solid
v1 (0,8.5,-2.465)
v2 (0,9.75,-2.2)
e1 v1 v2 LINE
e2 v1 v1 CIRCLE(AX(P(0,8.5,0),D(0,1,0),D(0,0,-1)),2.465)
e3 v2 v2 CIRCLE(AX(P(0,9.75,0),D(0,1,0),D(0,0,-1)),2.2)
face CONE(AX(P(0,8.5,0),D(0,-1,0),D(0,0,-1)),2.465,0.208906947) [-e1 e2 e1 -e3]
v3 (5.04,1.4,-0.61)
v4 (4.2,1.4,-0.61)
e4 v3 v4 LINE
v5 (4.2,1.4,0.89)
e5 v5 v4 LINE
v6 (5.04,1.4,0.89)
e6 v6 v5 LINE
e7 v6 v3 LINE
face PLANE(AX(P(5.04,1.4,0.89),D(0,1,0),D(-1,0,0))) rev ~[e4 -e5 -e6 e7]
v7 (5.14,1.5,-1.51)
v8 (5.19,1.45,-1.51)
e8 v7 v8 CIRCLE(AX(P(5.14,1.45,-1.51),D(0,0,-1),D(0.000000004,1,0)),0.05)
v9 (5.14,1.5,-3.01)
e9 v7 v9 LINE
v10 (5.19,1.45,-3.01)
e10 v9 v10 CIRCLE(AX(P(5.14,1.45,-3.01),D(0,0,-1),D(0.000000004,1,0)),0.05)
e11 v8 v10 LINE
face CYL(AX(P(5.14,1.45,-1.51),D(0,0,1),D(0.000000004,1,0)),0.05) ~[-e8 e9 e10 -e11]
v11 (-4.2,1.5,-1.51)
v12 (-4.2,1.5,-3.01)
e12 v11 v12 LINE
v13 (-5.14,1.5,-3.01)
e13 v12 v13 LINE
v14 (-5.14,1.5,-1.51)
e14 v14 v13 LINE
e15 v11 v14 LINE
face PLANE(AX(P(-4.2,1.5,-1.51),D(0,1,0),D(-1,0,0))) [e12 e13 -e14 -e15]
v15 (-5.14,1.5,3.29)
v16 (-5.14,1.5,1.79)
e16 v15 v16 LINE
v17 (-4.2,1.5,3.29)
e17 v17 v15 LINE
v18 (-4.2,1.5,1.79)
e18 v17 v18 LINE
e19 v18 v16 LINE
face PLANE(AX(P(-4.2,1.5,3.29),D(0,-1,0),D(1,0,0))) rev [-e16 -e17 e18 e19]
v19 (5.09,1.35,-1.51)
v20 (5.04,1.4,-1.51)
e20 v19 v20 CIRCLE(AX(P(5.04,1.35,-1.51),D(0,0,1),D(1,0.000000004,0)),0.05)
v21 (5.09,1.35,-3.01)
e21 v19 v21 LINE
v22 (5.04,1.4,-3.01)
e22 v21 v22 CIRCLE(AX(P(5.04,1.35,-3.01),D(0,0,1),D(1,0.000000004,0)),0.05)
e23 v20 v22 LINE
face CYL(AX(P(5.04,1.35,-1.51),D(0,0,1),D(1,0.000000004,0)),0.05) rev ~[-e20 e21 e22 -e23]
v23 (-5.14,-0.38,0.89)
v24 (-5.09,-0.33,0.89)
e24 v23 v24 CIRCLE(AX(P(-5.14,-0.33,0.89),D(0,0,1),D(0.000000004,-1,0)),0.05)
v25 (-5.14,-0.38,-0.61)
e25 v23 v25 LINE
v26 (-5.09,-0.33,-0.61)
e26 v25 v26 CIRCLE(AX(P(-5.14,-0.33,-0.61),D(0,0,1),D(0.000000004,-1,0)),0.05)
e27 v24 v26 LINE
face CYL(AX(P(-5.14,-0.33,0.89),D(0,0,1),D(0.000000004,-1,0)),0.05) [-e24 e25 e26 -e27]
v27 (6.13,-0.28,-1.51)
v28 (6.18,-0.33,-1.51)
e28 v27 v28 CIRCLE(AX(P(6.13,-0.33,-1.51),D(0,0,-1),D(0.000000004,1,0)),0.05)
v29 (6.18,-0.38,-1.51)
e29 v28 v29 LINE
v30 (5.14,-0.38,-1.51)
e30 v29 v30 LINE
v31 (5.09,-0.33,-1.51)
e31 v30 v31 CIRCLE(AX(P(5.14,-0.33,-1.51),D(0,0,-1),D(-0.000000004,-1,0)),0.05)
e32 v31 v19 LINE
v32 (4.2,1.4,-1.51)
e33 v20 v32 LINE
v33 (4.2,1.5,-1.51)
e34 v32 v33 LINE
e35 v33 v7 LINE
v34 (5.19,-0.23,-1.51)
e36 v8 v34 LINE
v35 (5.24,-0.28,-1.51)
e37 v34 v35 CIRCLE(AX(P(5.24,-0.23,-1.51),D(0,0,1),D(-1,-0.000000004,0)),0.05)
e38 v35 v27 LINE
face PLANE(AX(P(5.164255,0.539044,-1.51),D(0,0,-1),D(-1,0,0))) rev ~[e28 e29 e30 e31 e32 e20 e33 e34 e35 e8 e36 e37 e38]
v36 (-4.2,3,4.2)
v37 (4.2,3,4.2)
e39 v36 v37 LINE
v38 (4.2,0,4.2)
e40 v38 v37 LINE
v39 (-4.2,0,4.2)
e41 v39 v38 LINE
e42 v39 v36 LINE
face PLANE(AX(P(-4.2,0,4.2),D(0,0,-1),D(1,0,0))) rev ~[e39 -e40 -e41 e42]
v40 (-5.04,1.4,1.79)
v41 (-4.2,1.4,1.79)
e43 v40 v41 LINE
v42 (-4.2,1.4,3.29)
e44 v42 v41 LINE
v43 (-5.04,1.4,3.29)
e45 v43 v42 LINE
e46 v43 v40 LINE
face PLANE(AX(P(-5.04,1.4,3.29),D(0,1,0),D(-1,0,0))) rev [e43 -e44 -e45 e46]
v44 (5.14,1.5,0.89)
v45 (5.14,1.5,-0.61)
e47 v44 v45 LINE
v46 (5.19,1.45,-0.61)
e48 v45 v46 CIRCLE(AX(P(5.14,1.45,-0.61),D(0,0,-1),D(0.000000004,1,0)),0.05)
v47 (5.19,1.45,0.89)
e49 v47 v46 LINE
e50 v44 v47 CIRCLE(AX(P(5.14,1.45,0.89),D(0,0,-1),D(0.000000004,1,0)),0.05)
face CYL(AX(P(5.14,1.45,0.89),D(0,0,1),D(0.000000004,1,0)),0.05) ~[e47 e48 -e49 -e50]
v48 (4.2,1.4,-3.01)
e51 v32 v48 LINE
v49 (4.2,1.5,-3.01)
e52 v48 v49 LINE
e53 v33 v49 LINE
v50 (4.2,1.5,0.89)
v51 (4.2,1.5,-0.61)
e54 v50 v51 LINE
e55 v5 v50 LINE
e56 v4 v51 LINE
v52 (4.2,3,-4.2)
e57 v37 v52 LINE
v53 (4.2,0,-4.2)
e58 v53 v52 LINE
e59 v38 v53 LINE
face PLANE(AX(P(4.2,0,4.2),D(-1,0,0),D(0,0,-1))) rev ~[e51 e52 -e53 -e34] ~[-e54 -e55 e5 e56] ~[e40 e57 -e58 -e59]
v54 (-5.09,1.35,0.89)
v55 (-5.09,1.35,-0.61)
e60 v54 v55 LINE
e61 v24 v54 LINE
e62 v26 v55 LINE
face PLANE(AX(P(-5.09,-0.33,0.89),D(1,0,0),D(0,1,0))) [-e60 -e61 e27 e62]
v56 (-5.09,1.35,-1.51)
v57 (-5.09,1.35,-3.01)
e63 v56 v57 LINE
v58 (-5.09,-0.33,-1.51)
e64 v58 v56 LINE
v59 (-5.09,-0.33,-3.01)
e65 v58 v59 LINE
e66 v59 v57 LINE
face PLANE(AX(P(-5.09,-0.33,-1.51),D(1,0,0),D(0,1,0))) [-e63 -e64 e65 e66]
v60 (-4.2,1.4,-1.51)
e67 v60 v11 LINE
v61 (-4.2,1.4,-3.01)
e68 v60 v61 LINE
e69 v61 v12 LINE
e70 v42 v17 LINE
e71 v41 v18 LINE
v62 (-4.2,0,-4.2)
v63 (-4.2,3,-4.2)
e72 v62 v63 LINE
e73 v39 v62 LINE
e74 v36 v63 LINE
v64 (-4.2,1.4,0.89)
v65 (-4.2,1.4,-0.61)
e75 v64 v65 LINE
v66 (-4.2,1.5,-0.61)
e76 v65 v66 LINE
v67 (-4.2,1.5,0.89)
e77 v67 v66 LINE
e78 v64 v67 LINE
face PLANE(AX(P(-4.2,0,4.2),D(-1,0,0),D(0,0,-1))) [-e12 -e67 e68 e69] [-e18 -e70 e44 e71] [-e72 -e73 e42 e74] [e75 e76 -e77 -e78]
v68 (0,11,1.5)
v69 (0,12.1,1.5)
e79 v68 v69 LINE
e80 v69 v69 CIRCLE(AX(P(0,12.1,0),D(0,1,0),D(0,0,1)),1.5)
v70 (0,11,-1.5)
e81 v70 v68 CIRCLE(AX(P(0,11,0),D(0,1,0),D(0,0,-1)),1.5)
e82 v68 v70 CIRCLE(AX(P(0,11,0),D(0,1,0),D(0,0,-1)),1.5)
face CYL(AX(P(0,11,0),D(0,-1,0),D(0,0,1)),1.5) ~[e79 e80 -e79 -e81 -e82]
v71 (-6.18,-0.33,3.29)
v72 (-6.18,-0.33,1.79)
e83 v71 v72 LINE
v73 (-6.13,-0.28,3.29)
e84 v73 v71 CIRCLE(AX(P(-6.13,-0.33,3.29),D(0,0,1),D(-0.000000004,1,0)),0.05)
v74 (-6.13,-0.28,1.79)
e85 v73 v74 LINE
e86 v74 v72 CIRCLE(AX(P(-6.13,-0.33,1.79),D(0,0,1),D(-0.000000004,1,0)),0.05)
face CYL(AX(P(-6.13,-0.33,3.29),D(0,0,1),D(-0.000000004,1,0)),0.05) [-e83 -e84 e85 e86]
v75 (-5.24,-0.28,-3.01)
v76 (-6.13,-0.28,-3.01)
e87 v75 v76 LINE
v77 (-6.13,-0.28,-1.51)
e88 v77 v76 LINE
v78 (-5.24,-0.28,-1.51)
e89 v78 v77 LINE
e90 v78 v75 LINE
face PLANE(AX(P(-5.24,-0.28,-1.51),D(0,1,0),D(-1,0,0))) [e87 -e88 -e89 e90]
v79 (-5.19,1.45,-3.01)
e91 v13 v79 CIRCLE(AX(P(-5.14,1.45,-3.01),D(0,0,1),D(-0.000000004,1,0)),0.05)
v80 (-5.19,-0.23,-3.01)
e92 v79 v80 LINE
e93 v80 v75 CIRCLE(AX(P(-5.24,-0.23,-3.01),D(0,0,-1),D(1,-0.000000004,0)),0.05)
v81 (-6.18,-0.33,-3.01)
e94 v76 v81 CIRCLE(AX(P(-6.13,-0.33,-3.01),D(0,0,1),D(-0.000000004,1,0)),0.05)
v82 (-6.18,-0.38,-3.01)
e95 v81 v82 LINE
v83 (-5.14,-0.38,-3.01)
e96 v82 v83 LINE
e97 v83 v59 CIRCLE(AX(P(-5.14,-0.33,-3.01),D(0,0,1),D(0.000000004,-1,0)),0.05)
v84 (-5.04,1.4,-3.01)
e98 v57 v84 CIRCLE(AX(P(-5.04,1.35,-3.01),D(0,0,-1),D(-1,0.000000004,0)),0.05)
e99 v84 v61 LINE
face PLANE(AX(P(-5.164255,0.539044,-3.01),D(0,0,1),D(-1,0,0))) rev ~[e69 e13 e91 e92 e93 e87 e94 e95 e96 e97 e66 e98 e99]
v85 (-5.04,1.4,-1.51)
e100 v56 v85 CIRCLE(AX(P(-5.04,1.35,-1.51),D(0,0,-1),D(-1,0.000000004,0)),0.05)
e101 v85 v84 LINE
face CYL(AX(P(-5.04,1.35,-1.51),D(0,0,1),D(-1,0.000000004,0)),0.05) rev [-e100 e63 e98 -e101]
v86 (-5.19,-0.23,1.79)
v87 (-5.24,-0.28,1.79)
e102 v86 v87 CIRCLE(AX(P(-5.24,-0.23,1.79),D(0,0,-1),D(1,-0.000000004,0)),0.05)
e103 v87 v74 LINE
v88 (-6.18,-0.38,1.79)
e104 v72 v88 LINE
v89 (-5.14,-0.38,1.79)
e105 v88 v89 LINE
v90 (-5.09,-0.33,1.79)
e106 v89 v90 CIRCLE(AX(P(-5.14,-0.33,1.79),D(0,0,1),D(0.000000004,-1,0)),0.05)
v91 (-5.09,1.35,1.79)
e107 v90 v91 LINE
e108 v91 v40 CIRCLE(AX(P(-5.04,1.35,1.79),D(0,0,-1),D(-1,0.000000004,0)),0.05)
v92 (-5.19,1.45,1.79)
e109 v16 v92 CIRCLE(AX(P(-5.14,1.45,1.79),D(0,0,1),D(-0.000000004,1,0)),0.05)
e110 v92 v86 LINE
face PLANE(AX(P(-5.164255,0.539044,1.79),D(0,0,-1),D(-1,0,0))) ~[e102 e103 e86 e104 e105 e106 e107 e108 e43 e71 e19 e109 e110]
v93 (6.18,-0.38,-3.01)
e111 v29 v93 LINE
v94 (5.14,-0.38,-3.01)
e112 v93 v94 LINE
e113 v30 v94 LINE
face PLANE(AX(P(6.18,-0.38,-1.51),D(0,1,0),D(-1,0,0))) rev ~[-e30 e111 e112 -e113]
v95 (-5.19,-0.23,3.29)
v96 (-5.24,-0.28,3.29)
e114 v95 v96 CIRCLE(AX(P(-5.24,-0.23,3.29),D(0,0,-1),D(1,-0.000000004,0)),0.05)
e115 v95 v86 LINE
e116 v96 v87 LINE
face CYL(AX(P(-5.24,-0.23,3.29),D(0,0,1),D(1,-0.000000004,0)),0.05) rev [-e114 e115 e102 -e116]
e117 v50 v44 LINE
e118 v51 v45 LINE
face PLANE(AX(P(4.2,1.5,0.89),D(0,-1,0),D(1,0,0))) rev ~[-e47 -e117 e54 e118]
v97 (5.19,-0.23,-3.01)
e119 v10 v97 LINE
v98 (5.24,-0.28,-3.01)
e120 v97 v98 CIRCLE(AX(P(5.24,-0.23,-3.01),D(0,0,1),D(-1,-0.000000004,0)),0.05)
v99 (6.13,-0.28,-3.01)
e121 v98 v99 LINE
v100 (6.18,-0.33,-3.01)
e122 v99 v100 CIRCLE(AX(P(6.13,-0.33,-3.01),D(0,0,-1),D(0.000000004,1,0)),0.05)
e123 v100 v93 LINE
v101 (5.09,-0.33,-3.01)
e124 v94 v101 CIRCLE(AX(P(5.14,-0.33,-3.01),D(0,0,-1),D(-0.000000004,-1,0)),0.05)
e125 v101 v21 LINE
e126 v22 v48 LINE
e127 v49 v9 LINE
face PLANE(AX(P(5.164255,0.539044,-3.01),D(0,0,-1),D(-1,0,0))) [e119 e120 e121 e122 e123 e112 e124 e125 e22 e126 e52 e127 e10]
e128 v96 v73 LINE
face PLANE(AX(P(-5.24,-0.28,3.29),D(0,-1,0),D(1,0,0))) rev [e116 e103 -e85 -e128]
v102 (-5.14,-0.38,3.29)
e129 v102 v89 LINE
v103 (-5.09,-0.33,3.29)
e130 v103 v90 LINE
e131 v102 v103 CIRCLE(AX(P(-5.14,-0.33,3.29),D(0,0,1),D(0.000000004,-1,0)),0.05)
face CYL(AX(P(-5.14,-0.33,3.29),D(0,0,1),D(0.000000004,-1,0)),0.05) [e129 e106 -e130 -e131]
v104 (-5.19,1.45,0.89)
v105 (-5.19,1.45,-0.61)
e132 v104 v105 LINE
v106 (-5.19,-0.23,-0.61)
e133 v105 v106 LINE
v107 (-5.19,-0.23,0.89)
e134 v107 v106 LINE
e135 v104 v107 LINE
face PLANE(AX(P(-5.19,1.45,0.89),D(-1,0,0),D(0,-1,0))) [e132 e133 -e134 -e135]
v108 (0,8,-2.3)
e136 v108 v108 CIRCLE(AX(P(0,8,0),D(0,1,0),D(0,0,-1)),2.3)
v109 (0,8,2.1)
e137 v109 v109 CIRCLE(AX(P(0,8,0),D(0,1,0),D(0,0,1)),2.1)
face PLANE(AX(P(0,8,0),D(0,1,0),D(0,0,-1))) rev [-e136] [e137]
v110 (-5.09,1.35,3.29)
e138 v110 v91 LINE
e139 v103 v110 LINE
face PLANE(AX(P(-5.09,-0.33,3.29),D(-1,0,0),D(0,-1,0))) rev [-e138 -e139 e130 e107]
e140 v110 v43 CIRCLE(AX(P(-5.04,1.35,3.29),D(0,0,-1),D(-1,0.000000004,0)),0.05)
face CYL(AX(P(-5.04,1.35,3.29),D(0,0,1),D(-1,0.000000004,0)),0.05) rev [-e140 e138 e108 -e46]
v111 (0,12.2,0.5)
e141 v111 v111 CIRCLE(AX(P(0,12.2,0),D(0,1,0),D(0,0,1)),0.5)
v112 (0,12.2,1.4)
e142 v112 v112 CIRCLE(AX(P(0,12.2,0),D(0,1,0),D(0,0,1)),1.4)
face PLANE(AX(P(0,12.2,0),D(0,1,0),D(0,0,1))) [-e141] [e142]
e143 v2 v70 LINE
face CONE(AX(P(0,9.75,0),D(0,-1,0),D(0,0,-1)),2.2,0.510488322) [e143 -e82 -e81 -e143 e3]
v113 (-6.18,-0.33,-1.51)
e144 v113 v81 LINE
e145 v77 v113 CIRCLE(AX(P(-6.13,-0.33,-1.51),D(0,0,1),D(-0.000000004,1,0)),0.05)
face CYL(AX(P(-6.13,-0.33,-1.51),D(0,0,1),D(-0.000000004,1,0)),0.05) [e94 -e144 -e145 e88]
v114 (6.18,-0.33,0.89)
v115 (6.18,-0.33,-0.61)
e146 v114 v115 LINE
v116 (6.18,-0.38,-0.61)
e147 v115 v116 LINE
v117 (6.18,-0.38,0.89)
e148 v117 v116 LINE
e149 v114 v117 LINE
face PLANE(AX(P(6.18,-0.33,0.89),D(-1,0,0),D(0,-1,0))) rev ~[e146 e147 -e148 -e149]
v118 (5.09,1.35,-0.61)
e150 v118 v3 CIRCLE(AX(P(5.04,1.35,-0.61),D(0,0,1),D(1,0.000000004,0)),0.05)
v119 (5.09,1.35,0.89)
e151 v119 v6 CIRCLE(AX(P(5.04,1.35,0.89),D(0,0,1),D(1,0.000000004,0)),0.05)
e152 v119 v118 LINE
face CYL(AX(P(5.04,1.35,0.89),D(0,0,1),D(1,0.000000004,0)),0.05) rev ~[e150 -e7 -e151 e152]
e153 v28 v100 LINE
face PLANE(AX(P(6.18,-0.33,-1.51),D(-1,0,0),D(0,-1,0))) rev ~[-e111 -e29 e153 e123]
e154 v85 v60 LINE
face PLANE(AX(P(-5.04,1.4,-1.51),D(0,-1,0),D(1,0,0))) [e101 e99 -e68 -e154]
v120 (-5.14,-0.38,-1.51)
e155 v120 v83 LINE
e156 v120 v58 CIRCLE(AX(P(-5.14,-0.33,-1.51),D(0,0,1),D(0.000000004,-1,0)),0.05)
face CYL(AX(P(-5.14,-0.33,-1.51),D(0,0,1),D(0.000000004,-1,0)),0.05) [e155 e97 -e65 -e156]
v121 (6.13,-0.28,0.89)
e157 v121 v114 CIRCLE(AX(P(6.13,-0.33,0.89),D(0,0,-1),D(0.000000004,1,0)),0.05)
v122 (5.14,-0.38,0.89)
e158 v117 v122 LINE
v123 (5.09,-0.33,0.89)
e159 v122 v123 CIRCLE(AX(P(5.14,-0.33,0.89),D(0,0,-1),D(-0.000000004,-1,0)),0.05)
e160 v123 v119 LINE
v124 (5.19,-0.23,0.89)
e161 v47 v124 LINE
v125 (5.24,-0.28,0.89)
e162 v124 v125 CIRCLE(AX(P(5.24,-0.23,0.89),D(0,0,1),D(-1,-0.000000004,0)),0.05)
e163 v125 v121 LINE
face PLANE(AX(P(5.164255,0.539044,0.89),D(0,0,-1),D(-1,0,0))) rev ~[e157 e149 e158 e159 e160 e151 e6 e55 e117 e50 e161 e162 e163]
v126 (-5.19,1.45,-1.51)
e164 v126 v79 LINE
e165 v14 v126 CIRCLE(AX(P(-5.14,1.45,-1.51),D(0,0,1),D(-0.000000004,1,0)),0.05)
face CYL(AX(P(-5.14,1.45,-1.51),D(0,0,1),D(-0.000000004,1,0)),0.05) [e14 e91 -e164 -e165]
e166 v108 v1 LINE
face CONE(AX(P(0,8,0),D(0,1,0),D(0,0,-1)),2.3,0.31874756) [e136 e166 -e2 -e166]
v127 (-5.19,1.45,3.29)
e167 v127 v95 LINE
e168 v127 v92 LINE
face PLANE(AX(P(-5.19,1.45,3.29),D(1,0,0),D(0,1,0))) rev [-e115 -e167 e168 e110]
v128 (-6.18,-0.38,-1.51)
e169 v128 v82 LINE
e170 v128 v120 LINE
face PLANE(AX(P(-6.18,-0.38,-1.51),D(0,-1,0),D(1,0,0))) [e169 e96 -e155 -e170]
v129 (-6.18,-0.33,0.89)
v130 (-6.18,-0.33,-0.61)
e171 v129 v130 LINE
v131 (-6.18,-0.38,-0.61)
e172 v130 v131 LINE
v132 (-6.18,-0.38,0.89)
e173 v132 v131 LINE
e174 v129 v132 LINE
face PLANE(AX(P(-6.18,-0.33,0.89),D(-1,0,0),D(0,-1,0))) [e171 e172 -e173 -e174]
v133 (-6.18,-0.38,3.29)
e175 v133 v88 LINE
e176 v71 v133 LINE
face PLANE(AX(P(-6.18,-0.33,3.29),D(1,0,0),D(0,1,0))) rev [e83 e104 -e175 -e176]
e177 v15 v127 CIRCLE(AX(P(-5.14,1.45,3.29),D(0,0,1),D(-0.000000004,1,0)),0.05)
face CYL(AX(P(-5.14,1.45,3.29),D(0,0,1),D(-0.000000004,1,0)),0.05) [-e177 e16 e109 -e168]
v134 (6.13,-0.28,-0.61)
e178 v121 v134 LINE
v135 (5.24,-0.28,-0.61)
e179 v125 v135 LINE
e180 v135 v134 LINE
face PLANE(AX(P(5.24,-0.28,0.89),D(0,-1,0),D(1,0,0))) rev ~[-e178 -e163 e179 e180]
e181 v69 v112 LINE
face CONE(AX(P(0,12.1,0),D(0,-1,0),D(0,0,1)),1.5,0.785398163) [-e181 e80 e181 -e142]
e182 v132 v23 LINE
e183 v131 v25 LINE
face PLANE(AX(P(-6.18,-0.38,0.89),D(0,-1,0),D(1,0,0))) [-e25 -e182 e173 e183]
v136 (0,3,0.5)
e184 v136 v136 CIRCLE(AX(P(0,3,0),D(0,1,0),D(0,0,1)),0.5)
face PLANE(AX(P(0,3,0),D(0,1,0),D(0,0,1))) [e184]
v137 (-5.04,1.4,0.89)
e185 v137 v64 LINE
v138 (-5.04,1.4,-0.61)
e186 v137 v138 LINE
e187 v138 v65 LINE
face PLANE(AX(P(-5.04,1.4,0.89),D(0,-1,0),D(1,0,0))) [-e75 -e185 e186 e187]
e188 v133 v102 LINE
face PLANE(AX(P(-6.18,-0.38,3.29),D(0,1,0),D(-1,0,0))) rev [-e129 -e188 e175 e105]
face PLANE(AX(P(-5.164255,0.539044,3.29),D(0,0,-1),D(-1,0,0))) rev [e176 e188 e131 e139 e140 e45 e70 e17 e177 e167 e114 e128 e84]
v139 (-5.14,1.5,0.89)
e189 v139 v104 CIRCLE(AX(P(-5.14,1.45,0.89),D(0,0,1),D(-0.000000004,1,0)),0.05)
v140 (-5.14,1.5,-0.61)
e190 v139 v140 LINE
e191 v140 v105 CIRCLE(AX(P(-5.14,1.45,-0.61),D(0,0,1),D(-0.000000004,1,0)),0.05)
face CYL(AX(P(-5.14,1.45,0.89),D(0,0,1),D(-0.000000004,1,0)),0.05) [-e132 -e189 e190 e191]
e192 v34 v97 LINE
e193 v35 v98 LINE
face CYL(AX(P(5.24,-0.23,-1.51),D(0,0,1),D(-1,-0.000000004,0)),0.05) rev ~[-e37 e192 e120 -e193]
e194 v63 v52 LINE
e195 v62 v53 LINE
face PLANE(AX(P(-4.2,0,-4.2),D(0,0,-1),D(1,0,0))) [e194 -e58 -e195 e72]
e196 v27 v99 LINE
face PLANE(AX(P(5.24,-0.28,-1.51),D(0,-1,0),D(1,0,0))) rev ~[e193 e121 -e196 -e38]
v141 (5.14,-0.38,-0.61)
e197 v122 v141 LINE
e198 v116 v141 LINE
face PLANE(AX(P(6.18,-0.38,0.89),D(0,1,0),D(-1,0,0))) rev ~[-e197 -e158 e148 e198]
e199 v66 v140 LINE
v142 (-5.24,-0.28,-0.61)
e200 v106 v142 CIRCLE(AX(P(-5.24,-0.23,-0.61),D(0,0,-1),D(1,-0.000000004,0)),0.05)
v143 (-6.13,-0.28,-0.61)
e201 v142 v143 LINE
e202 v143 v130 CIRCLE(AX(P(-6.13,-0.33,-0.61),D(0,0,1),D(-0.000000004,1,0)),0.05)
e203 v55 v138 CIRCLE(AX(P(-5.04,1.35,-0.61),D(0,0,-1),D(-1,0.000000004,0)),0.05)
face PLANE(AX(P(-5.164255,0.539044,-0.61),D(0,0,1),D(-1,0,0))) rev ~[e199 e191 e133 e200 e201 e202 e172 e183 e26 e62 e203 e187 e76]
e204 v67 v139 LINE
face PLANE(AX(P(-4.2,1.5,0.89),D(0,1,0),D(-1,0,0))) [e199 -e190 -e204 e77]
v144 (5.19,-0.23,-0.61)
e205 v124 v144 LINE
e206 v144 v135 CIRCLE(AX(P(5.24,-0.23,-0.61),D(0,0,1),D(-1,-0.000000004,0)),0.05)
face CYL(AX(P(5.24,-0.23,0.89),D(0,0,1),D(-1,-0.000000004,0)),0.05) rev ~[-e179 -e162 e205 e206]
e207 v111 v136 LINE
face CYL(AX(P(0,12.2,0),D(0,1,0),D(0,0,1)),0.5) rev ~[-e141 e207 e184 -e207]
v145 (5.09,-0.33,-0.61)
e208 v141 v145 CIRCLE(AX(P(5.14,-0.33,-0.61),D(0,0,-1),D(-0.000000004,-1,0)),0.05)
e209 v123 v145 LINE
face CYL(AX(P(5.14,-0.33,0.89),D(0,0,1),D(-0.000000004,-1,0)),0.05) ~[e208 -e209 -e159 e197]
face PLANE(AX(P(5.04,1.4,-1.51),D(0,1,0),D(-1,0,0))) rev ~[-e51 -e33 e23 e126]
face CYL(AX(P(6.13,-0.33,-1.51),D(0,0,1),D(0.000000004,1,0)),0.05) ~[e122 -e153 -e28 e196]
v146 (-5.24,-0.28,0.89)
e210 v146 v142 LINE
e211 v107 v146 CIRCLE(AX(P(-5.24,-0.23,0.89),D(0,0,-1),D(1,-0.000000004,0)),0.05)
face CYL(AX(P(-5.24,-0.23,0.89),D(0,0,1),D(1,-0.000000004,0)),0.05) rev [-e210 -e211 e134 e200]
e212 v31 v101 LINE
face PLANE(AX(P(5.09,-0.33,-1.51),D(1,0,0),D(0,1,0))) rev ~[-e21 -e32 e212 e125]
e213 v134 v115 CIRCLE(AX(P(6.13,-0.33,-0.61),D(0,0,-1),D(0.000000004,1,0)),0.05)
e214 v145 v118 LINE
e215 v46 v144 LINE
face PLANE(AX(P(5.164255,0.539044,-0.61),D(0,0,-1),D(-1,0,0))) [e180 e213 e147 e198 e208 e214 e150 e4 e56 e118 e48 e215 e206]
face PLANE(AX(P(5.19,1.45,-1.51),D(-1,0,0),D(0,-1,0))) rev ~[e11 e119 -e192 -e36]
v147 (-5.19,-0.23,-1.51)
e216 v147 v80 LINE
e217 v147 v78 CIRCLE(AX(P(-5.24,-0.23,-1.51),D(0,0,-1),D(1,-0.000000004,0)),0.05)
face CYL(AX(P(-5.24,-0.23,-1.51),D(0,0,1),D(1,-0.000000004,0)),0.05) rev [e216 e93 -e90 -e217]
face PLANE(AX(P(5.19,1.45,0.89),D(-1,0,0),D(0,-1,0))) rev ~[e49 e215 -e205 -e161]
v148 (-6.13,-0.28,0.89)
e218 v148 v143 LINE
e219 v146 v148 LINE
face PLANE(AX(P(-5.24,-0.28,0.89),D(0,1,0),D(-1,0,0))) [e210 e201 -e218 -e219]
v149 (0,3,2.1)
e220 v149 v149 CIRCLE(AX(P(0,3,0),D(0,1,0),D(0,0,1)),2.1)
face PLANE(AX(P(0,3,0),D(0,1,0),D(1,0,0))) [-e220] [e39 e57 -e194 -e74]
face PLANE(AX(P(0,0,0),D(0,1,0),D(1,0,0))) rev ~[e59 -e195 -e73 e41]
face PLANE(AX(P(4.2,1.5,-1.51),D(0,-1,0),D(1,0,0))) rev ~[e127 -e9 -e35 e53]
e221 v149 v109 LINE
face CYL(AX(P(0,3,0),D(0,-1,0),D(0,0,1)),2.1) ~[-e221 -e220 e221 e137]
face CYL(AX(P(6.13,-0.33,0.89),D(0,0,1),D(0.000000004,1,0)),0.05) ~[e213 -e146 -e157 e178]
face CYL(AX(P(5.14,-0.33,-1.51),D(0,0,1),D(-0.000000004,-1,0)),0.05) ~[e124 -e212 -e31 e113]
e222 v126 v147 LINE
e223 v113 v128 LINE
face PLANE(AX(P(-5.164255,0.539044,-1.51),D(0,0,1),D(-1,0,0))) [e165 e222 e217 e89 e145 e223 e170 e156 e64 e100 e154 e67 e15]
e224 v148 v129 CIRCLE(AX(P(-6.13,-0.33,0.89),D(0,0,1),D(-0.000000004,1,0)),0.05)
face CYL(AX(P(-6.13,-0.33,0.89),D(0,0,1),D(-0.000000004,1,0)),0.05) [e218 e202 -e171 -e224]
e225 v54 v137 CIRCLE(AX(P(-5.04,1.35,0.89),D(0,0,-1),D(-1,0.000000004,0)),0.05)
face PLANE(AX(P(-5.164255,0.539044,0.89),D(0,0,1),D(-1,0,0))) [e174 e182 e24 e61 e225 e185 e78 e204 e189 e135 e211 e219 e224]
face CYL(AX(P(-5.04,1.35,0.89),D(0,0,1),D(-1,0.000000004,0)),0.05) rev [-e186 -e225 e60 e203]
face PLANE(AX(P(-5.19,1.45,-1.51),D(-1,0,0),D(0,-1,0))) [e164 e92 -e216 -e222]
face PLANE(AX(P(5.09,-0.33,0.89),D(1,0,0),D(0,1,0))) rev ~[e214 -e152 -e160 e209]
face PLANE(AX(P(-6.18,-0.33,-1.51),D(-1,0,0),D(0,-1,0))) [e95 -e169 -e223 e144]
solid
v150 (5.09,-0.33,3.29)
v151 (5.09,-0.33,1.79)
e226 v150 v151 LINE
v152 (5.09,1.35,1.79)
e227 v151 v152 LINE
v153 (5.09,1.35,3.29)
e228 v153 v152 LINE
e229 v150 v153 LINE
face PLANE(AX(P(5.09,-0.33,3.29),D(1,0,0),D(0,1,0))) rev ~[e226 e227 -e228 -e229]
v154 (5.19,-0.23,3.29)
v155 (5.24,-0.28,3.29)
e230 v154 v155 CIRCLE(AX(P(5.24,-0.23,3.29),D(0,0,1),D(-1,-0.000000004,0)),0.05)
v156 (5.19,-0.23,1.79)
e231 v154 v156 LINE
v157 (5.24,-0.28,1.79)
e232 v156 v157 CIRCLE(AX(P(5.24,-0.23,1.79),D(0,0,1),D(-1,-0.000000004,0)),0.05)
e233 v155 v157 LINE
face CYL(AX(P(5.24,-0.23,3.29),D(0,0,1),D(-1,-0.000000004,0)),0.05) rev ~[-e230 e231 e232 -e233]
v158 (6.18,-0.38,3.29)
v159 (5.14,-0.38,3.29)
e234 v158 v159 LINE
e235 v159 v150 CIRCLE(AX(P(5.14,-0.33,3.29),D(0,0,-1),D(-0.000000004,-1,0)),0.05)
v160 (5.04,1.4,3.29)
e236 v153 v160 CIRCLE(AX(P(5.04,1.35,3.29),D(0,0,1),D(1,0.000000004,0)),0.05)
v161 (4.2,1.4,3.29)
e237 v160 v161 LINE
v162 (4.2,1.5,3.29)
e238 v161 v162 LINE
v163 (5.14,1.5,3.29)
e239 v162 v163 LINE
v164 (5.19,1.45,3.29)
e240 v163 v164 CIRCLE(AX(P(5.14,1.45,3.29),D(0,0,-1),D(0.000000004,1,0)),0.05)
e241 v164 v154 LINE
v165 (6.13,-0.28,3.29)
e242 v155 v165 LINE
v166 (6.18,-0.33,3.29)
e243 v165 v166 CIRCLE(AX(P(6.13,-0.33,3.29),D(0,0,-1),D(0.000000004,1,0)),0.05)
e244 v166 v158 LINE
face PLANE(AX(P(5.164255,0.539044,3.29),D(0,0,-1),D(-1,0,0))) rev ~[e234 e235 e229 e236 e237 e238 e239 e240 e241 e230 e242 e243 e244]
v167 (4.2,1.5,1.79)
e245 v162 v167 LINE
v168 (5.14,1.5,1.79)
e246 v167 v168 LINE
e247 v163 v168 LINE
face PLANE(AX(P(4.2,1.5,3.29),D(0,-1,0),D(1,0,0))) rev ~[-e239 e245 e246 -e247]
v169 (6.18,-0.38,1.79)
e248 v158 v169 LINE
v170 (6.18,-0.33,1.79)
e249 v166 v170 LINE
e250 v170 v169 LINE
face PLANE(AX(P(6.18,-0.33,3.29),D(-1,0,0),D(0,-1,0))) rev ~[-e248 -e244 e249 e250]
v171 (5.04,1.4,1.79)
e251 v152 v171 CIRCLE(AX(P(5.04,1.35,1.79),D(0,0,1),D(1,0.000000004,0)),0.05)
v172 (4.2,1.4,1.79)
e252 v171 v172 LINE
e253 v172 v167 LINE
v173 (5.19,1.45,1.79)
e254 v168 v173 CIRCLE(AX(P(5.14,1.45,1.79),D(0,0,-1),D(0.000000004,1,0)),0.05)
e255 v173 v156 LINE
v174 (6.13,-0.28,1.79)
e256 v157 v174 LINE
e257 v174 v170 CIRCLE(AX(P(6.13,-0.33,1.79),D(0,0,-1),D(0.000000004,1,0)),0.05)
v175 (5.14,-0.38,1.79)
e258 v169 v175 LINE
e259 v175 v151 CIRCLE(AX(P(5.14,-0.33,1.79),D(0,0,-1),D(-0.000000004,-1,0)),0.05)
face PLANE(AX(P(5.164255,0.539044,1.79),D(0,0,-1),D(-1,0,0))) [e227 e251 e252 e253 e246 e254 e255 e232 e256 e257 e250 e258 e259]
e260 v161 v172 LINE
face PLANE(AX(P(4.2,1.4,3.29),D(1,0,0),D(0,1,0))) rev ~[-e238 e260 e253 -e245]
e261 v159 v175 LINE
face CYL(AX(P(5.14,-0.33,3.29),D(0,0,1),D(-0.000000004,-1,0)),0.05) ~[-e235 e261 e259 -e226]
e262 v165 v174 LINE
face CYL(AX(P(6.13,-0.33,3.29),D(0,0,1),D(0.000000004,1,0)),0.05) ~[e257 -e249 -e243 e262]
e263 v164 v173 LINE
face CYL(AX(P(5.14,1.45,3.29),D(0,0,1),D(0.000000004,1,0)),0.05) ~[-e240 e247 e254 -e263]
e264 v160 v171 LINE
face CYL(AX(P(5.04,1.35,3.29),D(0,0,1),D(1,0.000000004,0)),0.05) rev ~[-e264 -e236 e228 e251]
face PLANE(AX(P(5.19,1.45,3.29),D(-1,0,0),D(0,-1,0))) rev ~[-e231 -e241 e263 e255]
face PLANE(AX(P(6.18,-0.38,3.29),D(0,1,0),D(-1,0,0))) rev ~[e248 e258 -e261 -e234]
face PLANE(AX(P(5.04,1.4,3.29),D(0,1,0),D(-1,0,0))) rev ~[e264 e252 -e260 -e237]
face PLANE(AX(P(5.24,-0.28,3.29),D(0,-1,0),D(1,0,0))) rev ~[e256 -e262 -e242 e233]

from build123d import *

# Parameters (mm, degrees)
SKETCH1_W            = 8.4
SKETCH1_H            = 8.4
BOSS_EXTRUDE1_DEPTH  = 3
BOSS_EXTRUDE2_DEPTH  = 1.5
LPATTERN1_COUNT      = 3
LPATTERN1_PITCH      = 2.4
MIRROR1_COPY_1_DEPTH = 1.5
MIRROR1_COPY_2_DEPTH = 1.5
SKETCH3_R            = 2.1
BOSS_EXTRUDE3_DEPTH  = 5
SKETCH5_R            = 1.5
BOSS_EXTRUDE4_DEPTH  = 1.2
CHAMFER1_SIZE        = 0.1
SKETCH7_R            = 0.5
CUT_EXTRUDE1_DEPTH   = 9.2


with BuildPart() as part:
    # Sketch1 → Boss-Extrude1 (new body)
    with BuildSketch(Plane(origin=(0, 0, 0), x_dir=(1, 0, 0), z_dir=(0, 1, 0))):
        Rectangle(SKETCH1_W, SKETCH1_H)
    extrude(amount=BOSS_EXTRUDE1_DEPTH)


with BuildPart() as body_2:
    # Sketch2 → Boss-Extrude2 (new body)
    with BuildSketch(Plane.XY.offset(3.29)):
        with BuildLine():
            Line((4.2, 1.5), (5.14, 1.5))
            ThreePointArc((5.14, 1.5), (5.175355339, 1.485355339), (5.19, 1.45))
            Line((5.19, 1.45), (5.19, -0.23))
            ThreePointArc((5.19, -0.23), (5.204644661, -0.265355339), (5.24, -0.28))
            Line((5.24, -0.28), (6.13, -0.28))
            ThreePointArc((6.13, -0.28), (6.165355339, -0.294644661), (6.18, -0.33))
            Line((6.18, -0.33), (6.18, -0.38))
            Line((6.18, -0.38), (5.14, -0.38))
            ThreePointArc((5.14, -0.38), (5.104644661, -0.365355339), (5.09, -0.33))
            Line((5.09, -0.33), (5.09, 1.35))
            ThreePointArc((5.09, 1.35), (5.075355339, 1.385355339), (5.04, 1.4))
            Line((5.04, 1.4), (4.2, 1.4))
            Line((4.2, 1.4), (4.2, 1.5))
        make_face()
    boss_extrude2 = extrude(amount=-BOSS_EXTRUDE2_DEPTH)


with BuildPart() as part_1:
    add(part.part)

    # LPattern1: Boss-Extrude2 ×3
    with Locations(*[(0, 0, -i * LPATTERN1_PITCH) for i in range(1, LPATTERN1_COUNT)]):
        add(boss_extrude2)

    # Mirror1: Boss-Extrude2 across plane
    add(boss_extrude2.mirror(Plane(origin=(0, 0, 0), x_dir=(0, 0, 1), z_dir=(1, 0, 0))))

    # Mirror1 copy 1 sketch → Mirror1 copy 1 (add)
    with BuildSketch(Plane(origin=(0, 0, 0.89), x_dir=(-1, 0, 0), z_dir=(0, 0, 1))):
        with BuildLine():
            Line((4.2, -1.5), (5.14, -1.5))
            ThreePointArc((5.14, -1.5), (5.175355339, -1.485355339), (5.19, -1.45))
            Line((5.19, -1.45), (5.19, 0.23))
            ThreePointArc((5.19, 0.23), (5.204644661, 0.265355339), (5.24, 0.28))
            Line((5.24, 0.28), (6.13, 0.28))
            ThreePointArc((6.13, 0.28), (6.165355339, 0.294644661), (6.18, 0.33))
            Line((6.18, 0.33), (6.18, 0.38))
            Line((6.18, 0.38), (5.14, 0.38))
            ThreePointArc((5.14, 0.38), (5.104644661, 0.365355339), (5.09, 0.33))
            Line((5.09, 0.33), (5.09, -1.35))
            ThreePointArc((5.09, -1.35), (5.075355339, -1.385355339), (5.04, -1.4))
            Line((5.04, -1.4), (4.2, -1.4))
            Line((4.2, -1.4), (4.2, -1.5))
        make_face()
    extrude(amount=-MIRROR1_COPY_1_DEPTH)

    # Mirror1 copy 2 sketch → Mirror1 copy 2 (add)
    with BuildSketch(Plane(origin=(0, 0, -1.51), x_dir=(-1, 0, 0), z_dir=(0, 0, 1))):
        with BuildLine():
            Line((4.2, -1.5), (5.14, -1.5))
            ThreePointArc((5.14, -1.5), (5.175355339, -1.485355339), (5.19, -1.45))
            Line((5.19, -1.45), (5.19, 0.23))
            ThreePointArc((5.19, 0.23), (5.204644661, 0.265355339), (5.24, 0.28))
            Line((5.24, 0.28), (6.13, 0.28))
            ThreePointArc((6.13, 0.28), (6.165355339, 0.294644661), (6.18, 0.33))
            Line((6.18, 0.33), (6.18, 0.38))
            Line((6.18, 0.38), (5.14, 0.38))
            ThreePointArc((5.14, 0.38), (5.104644661, 0.365355339), (5.09, 0.33))
            Line((5.09, 0.33), (5.09, -1.35))
            ThreePointArc((5.09, -1.35), (5.075355339, -1.385355339), (5.04, -1.4))
            Line((5.04, -1.4), (4.2, -1.4))
            Line((4.2, -1.4), (4.2, -1.5))
        make_face()
    extrude(amount=-MIRROR1_COPY_2_DEPTH)

    # Sketch3 → Boss-Extrude3 (add)
    with BuildSketch(Plane(origin=(0, 3, 0), x_dir=(1, 0, 0), z_dir=(0, 1, 0))):
        with Locations(Location((0, 0, 0), (0, 0, 270))):
            Circle(SKETCH3_R)
    extrude(amount=BOSS_EXTRUDE3_DEPTH)

    # Sketch4 → Revolve1 (revolve)
    with BuildSketch(Plane.XY, mode=Mode.PRIVATE) as revolve1_sk:
        Polygon((0, 8), (-2.3, 8), (-2.465, 8.5), (-2.2, 9.75), (-1.5, 11), (0, 11), align=None)
    revolve(revolve1_sk.sketch.rotate(Axis((0, 8, 0), (0, 1, 0)), 270), axis=Axis((0, 8, 0), (0, 1, 0)))

    # Sketch5 → Boss-Extrude4 (add)
    with BuildSketch(Plane(origin=(0, 11, 0), x_dir=(1, 0, 0), z_dir=(0, 1, 0))):
        with Locations(Location((0, 0, 0), (0, 0, 270))):
            Circle(SKETCH5_R)
    extrude(amount=BOSS_EXTRUDE4_DEPTH)

    # Chamfer1
    chamfer1_edges = [part_1.edges().sort_by_distance(p)[0] for p in [
        (0, 12.2, -1.5),
    ]]
    chamfer(chamfer1_edges, length=CHAMFER1_SIZE)

    # Sketch7 → Cut-Extrude1 (cut)
    with BuildSketch(Plane(origin=(0, 12.2, 0), x_dir=(1, 0, 0), z_dir=(0, 1, 0))):
        with Locations(Location((0, 0, 0), (0, 0, 270))):
            Circle(SKETCH7_R)
    extrude(amount=-CUT_EXTRUDE1_DEPTH, mode=Mode.SUBTRACT)


solid = Compound([body_2.part, part_1.part])
